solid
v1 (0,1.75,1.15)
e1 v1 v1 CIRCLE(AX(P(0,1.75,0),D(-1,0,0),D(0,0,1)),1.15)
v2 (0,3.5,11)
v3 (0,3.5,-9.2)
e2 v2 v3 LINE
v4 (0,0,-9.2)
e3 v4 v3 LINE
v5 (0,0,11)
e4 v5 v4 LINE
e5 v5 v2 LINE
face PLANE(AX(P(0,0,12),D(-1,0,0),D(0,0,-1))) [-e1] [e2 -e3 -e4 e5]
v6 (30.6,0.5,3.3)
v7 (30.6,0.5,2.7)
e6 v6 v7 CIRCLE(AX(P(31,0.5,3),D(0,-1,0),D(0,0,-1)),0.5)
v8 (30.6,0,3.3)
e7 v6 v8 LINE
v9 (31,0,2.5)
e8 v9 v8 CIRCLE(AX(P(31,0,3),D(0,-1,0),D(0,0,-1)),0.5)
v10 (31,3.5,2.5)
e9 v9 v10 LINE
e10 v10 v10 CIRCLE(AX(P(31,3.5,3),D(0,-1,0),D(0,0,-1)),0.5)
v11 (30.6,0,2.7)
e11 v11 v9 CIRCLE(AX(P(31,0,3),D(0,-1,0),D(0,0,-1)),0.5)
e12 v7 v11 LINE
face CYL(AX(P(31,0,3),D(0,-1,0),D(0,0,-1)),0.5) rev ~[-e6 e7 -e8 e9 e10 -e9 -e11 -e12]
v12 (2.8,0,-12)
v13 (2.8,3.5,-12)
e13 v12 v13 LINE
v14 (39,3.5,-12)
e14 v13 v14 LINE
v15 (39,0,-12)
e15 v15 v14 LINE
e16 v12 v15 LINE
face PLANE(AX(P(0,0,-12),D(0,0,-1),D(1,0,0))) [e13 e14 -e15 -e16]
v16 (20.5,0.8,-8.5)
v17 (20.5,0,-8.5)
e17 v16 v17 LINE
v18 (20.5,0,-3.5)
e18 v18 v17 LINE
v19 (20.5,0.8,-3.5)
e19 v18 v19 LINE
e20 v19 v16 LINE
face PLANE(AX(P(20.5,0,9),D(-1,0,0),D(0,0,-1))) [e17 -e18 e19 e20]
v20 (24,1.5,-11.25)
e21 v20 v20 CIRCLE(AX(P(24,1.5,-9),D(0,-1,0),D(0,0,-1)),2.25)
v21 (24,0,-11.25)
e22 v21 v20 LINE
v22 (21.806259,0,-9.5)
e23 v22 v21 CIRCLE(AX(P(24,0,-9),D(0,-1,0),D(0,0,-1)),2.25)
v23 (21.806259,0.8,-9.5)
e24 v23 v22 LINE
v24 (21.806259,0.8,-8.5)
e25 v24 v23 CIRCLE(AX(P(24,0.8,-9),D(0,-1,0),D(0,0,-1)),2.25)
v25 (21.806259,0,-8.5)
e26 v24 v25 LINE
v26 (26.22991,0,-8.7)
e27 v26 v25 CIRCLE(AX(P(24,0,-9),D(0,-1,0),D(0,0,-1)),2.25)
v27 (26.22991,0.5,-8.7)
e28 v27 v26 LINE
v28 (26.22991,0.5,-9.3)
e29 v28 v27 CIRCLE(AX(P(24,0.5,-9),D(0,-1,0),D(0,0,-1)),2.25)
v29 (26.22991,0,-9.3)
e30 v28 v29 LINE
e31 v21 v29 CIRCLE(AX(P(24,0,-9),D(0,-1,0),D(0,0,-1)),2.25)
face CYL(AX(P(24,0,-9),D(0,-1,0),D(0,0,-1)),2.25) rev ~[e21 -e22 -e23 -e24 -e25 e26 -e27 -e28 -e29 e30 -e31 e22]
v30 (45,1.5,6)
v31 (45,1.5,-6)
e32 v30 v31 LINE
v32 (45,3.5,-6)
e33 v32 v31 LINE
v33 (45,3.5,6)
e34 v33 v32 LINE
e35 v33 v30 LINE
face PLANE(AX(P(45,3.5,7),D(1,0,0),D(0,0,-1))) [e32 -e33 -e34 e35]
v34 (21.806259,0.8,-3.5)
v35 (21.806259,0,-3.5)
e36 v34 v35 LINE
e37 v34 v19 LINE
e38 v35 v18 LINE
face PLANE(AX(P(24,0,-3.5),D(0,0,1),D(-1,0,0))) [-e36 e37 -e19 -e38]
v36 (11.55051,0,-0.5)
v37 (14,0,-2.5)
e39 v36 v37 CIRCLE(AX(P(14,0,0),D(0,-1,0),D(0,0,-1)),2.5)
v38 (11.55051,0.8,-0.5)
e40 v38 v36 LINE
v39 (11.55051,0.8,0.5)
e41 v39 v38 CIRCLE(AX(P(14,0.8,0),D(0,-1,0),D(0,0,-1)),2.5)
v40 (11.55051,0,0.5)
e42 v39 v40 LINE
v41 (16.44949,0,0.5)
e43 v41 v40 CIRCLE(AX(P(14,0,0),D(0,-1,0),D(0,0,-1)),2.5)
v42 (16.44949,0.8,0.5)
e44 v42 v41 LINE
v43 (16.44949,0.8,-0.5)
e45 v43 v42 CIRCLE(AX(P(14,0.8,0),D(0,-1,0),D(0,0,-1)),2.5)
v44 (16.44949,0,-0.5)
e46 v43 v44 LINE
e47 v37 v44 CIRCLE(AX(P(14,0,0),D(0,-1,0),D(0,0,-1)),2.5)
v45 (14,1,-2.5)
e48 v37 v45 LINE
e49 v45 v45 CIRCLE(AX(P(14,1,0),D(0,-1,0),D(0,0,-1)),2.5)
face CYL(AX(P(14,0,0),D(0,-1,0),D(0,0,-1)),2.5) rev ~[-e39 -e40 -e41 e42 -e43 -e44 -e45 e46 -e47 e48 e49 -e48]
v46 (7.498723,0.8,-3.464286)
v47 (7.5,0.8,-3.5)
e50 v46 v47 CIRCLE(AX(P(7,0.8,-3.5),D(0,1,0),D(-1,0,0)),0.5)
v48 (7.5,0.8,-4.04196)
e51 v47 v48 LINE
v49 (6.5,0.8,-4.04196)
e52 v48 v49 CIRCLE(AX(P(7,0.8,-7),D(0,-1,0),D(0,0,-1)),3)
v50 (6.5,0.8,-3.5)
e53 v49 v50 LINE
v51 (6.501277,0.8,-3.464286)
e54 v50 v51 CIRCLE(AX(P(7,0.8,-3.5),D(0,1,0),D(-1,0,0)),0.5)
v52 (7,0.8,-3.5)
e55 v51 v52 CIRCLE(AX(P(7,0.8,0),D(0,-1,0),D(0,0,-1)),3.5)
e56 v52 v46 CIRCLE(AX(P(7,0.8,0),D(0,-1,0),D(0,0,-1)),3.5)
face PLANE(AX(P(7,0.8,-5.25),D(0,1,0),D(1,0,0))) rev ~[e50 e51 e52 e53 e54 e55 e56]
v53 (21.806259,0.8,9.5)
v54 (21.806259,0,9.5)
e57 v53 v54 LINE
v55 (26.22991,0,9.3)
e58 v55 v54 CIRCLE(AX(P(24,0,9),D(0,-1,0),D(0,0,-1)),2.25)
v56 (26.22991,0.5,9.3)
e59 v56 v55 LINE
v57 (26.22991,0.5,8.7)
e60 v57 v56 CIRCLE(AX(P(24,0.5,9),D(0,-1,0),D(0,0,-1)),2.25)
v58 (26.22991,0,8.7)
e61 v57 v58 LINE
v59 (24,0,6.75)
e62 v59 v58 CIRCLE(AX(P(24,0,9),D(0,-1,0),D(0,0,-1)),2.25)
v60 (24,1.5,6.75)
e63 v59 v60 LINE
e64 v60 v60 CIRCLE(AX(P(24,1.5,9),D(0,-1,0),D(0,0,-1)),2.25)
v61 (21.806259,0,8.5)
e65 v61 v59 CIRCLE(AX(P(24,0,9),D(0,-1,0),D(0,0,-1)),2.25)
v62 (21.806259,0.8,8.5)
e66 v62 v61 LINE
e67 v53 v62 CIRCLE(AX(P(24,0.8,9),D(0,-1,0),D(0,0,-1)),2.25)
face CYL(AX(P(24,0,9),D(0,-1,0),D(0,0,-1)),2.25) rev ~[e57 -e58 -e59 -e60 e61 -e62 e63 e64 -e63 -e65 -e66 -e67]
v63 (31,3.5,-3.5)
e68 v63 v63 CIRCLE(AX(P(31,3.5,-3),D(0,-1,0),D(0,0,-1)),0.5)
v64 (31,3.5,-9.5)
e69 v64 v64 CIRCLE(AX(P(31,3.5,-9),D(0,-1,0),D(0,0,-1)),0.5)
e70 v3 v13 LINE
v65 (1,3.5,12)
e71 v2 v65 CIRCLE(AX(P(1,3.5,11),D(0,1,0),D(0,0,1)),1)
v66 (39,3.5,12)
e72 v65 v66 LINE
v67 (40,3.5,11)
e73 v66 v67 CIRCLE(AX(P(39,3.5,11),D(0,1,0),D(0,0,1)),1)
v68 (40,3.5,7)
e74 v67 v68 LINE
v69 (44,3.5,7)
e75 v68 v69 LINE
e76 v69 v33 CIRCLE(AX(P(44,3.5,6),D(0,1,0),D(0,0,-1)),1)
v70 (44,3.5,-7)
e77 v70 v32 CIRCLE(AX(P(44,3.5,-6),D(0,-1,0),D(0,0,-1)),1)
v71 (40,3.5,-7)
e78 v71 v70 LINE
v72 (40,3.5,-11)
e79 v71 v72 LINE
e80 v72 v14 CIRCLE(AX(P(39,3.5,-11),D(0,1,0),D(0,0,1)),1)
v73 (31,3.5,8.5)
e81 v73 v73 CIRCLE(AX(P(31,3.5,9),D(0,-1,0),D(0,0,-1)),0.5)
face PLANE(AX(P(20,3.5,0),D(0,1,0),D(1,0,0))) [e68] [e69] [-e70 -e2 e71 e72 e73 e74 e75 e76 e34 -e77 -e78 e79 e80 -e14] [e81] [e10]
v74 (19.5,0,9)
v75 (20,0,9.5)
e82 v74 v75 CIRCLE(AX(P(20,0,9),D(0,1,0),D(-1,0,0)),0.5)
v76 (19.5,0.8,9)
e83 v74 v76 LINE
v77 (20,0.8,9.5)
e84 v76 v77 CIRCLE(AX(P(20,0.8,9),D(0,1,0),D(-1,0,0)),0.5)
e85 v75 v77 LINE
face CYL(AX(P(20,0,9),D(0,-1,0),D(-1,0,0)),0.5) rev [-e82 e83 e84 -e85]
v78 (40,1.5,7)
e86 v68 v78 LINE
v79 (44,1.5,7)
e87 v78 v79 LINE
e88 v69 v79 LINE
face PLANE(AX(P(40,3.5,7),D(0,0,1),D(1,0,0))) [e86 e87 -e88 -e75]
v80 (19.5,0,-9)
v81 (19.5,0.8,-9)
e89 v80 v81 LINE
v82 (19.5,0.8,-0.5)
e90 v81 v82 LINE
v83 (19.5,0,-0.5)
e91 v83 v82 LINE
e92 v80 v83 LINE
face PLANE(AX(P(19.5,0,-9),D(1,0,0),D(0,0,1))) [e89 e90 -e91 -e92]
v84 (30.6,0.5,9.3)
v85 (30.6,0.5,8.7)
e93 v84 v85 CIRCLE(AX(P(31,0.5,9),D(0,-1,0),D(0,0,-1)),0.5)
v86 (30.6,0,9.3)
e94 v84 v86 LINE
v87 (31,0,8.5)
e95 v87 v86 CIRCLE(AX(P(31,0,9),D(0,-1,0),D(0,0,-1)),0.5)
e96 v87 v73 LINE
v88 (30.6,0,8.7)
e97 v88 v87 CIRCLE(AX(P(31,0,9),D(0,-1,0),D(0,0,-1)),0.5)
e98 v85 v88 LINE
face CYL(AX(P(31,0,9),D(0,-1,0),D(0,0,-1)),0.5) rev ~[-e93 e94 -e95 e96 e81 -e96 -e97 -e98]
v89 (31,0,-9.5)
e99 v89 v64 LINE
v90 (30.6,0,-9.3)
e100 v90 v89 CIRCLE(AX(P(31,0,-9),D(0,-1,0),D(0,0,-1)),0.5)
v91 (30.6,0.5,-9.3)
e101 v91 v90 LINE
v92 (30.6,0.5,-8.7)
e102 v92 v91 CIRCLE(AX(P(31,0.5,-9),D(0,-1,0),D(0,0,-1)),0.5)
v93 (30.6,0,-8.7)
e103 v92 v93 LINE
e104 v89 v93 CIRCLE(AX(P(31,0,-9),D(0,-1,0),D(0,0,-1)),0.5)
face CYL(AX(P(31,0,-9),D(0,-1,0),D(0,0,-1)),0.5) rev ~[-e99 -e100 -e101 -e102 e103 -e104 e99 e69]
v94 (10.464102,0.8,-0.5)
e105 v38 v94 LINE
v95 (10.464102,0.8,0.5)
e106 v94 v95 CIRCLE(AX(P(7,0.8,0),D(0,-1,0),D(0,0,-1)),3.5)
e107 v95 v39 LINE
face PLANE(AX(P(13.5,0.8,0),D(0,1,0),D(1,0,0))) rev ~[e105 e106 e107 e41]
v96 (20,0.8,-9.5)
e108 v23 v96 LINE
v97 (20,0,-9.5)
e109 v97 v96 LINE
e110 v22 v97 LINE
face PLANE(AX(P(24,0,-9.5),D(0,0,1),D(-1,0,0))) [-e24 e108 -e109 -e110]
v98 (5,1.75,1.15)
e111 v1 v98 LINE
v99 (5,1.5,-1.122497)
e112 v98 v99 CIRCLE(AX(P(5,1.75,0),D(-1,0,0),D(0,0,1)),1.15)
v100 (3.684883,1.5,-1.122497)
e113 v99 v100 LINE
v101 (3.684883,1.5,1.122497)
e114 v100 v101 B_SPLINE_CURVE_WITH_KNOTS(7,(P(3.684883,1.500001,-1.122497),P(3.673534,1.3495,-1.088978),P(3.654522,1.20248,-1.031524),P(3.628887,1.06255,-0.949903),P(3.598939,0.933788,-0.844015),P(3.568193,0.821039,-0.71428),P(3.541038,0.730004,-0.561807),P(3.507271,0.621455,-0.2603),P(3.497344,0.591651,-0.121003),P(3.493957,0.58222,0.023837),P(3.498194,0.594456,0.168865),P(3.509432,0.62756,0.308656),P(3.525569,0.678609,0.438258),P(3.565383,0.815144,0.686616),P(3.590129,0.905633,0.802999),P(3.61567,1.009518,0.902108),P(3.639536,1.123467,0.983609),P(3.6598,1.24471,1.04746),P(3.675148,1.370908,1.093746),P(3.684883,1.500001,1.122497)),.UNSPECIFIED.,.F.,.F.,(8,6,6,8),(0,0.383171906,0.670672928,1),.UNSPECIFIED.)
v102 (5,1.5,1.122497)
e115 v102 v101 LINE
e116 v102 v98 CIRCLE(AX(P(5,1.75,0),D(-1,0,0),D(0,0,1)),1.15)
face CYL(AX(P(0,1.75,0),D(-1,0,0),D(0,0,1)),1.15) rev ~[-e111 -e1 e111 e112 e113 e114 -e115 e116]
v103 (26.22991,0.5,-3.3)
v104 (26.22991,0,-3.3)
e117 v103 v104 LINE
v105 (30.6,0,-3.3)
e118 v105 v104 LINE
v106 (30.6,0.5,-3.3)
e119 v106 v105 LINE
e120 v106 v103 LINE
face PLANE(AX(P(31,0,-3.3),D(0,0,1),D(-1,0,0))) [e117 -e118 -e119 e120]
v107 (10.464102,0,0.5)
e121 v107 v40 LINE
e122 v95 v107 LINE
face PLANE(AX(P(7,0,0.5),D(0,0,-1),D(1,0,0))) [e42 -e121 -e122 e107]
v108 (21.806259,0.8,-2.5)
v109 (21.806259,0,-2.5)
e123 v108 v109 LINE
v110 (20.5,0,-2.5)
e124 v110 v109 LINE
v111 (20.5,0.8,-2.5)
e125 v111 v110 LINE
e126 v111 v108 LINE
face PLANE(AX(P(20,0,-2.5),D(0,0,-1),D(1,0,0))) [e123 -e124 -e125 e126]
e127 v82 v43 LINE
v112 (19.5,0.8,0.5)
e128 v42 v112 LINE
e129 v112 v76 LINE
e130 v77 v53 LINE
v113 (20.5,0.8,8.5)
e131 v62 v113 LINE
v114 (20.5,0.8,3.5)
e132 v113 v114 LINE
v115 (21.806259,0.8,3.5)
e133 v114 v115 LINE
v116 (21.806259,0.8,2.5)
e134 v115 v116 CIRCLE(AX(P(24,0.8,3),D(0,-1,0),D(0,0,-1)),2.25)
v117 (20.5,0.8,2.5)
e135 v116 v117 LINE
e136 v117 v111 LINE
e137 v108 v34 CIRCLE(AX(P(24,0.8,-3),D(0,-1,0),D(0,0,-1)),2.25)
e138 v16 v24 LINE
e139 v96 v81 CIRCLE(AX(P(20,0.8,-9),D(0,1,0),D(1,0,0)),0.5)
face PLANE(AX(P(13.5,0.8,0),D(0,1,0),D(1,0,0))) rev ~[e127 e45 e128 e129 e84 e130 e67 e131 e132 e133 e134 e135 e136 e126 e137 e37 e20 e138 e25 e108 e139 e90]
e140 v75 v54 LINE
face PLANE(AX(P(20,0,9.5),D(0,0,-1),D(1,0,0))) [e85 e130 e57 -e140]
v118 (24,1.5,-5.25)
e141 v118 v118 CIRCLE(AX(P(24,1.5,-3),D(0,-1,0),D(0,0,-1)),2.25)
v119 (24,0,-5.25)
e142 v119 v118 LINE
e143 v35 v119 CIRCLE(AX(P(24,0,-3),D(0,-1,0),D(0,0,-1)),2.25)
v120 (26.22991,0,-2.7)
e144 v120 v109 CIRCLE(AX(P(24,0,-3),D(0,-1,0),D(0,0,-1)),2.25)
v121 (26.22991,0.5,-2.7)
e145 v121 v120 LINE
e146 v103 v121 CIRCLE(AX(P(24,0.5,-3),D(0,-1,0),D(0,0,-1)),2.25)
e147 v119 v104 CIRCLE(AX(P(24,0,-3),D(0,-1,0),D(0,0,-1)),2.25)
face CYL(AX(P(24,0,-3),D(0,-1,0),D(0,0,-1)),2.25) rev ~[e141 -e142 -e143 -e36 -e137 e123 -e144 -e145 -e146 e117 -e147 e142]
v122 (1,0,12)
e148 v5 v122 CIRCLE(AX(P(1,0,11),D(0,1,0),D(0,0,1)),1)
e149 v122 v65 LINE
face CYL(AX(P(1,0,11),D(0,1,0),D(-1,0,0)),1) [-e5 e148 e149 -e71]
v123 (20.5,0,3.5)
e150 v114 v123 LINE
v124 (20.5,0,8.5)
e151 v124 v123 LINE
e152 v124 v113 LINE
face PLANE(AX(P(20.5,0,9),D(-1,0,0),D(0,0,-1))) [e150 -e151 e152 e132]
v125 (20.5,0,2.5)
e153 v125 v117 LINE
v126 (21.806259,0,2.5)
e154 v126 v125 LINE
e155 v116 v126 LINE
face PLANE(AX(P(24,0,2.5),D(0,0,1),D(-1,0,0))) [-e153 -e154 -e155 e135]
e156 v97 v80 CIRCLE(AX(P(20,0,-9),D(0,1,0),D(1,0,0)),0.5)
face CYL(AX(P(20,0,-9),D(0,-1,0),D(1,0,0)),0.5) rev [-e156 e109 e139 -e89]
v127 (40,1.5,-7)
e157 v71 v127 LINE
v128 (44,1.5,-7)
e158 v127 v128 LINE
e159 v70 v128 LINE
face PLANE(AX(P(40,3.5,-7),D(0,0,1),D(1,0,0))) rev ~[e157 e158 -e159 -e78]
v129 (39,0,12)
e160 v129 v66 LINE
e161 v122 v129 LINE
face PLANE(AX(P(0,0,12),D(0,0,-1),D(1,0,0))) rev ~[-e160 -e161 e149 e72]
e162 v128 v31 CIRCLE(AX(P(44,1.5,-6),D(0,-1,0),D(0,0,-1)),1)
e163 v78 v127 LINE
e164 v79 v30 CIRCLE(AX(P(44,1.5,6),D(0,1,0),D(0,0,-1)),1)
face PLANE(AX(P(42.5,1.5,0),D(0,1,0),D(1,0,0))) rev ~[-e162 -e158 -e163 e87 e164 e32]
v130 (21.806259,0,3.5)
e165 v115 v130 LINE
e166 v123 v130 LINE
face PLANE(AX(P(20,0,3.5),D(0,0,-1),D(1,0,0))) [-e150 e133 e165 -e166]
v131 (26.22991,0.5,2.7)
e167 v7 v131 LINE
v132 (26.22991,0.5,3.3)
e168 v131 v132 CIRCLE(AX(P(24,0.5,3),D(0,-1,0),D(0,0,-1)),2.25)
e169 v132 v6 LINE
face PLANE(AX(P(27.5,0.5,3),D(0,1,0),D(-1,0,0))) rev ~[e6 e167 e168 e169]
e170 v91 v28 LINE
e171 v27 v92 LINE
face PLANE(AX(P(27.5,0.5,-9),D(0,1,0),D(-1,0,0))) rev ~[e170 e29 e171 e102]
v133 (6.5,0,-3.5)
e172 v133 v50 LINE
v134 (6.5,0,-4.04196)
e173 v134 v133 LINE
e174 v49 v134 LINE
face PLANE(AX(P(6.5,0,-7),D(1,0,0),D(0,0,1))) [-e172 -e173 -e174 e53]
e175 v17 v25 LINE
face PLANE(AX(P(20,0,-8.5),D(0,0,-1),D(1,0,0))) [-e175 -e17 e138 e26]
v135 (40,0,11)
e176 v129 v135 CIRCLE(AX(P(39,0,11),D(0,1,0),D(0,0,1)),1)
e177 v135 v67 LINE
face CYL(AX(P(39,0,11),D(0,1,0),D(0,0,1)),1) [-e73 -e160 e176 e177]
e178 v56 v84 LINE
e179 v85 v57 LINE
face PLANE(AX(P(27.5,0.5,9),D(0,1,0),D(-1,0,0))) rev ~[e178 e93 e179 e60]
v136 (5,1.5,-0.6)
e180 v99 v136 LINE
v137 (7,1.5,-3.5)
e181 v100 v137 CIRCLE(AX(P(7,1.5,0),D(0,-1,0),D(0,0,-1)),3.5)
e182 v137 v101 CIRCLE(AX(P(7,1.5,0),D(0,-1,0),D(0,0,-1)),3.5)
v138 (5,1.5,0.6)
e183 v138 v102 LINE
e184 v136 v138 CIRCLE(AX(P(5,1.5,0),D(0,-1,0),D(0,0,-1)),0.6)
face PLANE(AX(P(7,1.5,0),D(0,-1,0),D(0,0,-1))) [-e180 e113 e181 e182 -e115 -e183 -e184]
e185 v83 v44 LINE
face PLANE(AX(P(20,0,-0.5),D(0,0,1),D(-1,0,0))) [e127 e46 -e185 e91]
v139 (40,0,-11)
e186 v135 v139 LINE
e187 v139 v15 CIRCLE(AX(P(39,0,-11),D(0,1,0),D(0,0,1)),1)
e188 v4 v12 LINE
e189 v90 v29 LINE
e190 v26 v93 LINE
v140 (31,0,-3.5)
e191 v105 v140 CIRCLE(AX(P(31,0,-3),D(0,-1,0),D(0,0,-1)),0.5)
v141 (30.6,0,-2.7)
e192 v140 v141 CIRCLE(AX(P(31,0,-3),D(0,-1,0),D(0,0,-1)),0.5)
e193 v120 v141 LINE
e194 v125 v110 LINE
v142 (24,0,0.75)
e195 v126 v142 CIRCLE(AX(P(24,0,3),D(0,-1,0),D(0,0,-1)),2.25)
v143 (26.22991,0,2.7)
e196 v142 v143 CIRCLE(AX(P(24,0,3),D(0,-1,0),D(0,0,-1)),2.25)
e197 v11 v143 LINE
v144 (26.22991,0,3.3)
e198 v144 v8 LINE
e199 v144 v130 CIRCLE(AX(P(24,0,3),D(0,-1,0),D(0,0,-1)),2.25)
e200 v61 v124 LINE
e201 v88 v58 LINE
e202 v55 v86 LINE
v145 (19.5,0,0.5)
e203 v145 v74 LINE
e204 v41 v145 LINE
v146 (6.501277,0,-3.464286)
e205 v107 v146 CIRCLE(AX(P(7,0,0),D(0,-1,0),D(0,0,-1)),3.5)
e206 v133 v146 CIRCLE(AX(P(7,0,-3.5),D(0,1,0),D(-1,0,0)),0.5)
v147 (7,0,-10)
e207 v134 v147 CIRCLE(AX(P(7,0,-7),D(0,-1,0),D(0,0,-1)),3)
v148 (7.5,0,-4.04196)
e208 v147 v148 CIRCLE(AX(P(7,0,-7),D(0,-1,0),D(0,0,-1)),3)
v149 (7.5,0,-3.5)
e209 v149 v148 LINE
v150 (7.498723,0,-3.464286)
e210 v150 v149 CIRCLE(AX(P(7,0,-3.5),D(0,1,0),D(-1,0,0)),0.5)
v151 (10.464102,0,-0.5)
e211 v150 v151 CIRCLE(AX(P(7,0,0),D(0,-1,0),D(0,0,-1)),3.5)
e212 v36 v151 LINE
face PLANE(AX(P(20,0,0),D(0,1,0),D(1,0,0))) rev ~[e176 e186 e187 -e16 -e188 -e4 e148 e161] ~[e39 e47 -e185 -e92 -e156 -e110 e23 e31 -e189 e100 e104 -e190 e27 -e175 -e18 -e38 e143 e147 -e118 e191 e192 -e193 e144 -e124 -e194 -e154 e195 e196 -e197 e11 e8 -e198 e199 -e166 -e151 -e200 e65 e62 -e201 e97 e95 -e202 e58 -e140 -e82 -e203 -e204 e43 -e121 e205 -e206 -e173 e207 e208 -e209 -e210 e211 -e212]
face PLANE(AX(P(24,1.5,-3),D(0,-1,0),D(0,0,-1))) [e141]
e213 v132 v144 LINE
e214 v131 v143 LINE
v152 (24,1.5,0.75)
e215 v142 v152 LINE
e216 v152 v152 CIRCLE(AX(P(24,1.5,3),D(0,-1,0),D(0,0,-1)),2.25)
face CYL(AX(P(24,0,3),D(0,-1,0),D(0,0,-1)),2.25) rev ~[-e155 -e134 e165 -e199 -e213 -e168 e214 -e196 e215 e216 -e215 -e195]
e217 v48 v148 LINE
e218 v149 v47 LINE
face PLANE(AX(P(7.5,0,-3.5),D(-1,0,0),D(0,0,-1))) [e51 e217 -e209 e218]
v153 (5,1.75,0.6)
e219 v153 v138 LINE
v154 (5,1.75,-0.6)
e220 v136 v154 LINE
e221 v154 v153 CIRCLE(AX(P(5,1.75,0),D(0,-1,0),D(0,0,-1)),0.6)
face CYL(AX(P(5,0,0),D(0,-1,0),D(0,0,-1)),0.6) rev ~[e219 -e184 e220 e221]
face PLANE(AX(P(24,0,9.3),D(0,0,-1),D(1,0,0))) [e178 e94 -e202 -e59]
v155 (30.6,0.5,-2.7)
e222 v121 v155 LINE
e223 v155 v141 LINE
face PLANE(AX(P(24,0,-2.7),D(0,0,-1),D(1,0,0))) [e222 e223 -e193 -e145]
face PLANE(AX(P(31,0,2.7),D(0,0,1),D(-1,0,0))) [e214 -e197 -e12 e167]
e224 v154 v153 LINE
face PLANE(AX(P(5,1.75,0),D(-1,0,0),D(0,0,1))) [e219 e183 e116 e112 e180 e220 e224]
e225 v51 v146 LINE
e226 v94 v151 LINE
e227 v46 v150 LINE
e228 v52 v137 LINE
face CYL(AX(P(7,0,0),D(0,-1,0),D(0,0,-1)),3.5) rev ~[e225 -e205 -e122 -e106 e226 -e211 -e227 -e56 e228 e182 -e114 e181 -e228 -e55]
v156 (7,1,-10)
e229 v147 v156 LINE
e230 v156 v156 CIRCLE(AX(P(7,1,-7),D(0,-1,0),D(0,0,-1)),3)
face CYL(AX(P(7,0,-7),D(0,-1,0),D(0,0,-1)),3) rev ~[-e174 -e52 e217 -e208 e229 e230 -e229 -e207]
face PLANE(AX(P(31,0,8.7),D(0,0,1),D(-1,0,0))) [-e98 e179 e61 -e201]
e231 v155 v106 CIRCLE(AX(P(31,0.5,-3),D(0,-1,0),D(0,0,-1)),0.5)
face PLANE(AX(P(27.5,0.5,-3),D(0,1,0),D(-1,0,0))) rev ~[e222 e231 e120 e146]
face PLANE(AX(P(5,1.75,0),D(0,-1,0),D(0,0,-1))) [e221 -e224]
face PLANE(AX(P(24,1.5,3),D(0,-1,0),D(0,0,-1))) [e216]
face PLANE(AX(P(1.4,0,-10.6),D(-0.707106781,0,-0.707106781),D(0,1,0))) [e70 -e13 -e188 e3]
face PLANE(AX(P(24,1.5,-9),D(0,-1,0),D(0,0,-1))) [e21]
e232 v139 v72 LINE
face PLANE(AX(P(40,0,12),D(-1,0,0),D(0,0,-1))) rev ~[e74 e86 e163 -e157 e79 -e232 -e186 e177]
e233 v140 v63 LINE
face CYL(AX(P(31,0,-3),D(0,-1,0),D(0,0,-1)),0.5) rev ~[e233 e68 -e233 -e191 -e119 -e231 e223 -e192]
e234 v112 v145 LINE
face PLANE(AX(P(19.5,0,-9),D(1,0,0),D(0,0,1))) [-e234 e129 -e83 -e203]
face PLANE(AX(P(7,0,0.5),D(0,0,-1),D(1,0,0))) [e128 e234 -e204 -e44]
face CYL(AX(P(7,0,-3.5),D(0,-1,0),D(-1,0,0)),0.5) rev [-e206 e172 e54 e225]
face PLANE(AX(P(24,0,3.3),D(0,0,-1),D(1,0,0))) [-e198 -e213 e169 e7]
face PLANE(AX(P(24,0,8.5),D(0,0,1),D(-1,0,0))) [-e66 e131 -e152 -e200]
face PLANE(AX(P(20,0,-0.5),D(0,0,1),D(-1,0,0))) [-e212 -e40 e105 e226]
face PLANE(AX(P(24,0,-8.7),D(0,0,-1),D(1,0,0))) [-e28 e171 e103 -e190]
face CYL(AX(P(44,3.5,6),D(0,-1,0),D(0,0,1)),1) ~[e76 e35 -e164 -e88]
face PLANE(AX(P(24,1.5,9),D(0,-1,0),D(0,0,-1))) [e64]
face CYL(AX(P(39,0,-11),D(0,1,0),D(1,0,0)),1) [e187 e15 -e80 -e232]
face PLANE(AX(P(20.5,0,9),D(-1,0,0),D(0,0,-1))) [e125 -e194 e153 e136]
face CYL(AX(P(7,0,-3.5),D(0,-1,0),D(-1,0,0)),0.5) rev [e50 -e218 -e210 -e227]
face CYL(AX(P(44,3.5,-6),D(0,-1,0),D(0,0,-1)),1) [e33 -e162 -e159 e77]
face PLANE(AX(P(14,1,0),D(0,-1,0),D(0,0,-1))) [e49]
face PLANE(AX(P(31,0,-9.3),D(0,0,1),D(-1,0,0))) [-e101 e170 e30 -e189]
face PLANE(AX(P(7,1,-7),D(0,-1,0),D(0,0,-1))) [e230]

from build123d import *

# Parameters (mm, degrees)
SKETCH4_W           = 40
SKETCH4_H           = 24
BOSS_EXTRUDE2_DEPTH = 3.5
FILLET2_R           = 1
SKETCH5_W           = 4.999999906
SKETCH5_H           = 14
BOSS_EXTRUDE3_DEPTH = 2
FILLET3_R           = 1
CHAMFER1_SIZE       = 2.8
SKETCH6_R           = 1.15
CUT_EXTRUDE1_DEPTH  = 5
SKETCH8_R           = 0.6
CUT_EXTRUDE2_DEPTH  = 1.75
SKETCH9_R           = 3.5
CUT_EXTRUDE3_DEPTH  = 1.5
SKETCH10_R          = 3
CUT_EXTRUDE4_DEPTH  = 1
CUT_EXTRUDE5_DEPTH  = 0.8
SKETCH12_R          = 2.5
CUT_EXTRUDE6_DEPTH  = 1
CUT_EXTRUDE7_DEPTH  = 0.8
CUT_EXTRUDE8_DEPTH  = 0.8
SKETCH16_R          = 2.25
CUT_EXTRUDE9_DEPTH  = 1.5
CUT_EXTRUDE10_DEPTH = 0.5
SKETCH18_R          = 0.5
CUT_EXTRUDE11_DEPTH = 47.70385414
LPATTERN3_COUNT     = 4
LPATTERN3_PITCH     = 6


with BuildPart() as part:
    # Sketch4 → Boss-Extrude2 (new body)
    with BuildSketch(Plane(origin=(0, 0, 0), x_dir=(1, 0, 0), z_dir=(0, 1, 0))):
        with Locations((20, 0)):
            Rectangle(SKETCH4_W, SKETCH4_H)
    extrude(amount=BOSS_EXTRUDE2_DEPTH)

    # Fillet2
    fillet2_edges = [part.edges().sort_by_distance(p)[0] for p in [
        (40, 1.75, -12),
        (40, 1.75, 12),
        (0, 1.75, 12),
    ]]
    fillet(fillet2_edges, radius=FILLET2_R)

    # Sketch5 → Boss-Extrude3 (add)
    with BuildSketch(Plane(origin=(0, 3.5, 0), x_dir=(1, 0, 0), z_dir=(0, 1, 0))):
        with Locations((42.499999953, 0)):
            Rectangle(SKETCH5_W, SKETCH5_H)
    extrude(amount=-BOSS_EXTRUDE3_DEPTH)

    # Fillet3
    fillet3_edges = [part.edges().sort_by_distance(p)[0] for p in [
        (44.999999906, 2.5, -7),
        (44.999999906, 2.5, 7),
    ]]
    fillet(fillet3_edges, radius=FILLET3_R)

    # Chamfer1
    chamfer1_edges = [part.edges().sort_by_distance(p)[0] for p in [
        (0, 1.75, -12),
    ]]
    chamfer(chamfer1_edges, length=CHAMFER1_SIZE)

    # Sketch6 → Cut-Extrude1 (cut)
    with BuildSketch(Plane.ZY):
        with Locations((0, 1.75)):
            Circle(SKETCH6_R)
    extrude(amount=-CUT_EXTRUDE1_DEPTH, mode=Mode.SUBTRACT)

    # Sketch8 → Cut-Extrude2 (cut)
    with BuildSketch(Plane.XZ):
        with Locations(Location((5, 0, 0), (0, 0, 270))):
            Circle(SKETCH8_R)
    extrude(amount=-CUT_EXTRUDE2_DEPTH, mode=Mode.SUBTRACT)

    # Sketch9 → Cut-Extrude3 (cut)
    with BuildSketch(Plane.XZ):
        with Locations(Location((7, 0, 0), (0, 0, 270))):
            Circle(SKETCH9_R)
    extrude(amount=-CUT_EXTRUDE3_DEPTH, mode=Mode.SUBTRACT)

    # Sketch10 → Cut-Extrude4 (cut)
    with BuildSketch(Plane.XZ):
        with Locations(Location((7, -7, 0), (0, 0, 270))):
            Circle(SKETCH10_R)
    extrude(amount=-CUT_EXTRUDE4_DEPTH, mode=Mode.SUBTRACT)

    # Sketch11 → Cut-Extrude5 (cut)
    with BuildSketch(Plane(origin=(0, 0, 0), x_dir=(-1, 0, 0), z_dir=(0, -1, 0))):
        with BuildLine():
            Line((-6.5, 7), (-6.5, 3.5))
            ThreePointArc((-6.5, 3.5), (-7, 3), (-7.5, 3.5))
            Line((-7.5, 3.5), (-7.5, 7))
            ThreePointArc((-7.5, 7), (-7, 7.5), (-6.5, 7))
        make_face()
        with BuildLine():
            Line((-20, 0.5), (-7, 0.5))
            ThreePointArc((-7, 0.5), (-6.5, 0), (-7, -0.5))
            Line((-7, -0.5), (-20, -0.5))
            ThreePointArc((-20, -0.5), (-20.5, 0), (-20, 0.5))
        make_face()
    extrude(amount=-CUT_EXTRUDE5_DEPTH, mode=Mode.SUBTRACT)

    # Sketch12 → Cut-Extrude6 (cut)
    with BuildSketch(Plane.XZ):
        with Locations(Location((14, 0, 0), (0, 0, 270))):
            Circle(SKETCH12_R)
    extrude(amount=-CUT_EXTRUDE6_DEPTH, mode=Mode.SUBTRACT)

    # Sketch14 → Cut-Extrude7 (cut)
    with BuildSketch(Plane.XZ):
        with BuildLine():
            Line((19.5, -9), (19.5, 9))
            ThreePointArc((19.5, 9), (20, 9.5), (20.5, 9))
            Line((20.5, 9), (20.5, -9))
            ThreePointArc((20.5, -9), (20, -9.5), (19.5, -9))
        make_face()
    extrude(amount=-CUT_EXTRUDE7_DEPTH, mode=Mode.SUBTRACT)

    # Sketch15 → Cut-Extrude8 (cut)
    with BuildSketch(Plane.XZ):
        with BuildLine():
            Line((20, -8.5), (24, -8.5))
            ThreePointArc((24, -8.5), (24.5, -9), (24, -9.5))
            Line((24, -9.5), (20, -9.5))
            ThreePointArc((20, -9.5), (19.5, -9), (20, -8.5))
        make_face()
    cut_extrude8 = extrude(amount=-CUT_EXTRUDE8_DEPTH, mode=Mode.SUBTRACT)

    # Sketch16 → Cut-Extrude9 (cut)
    with BuildSketch(Plane.XZ):
        with Locations(Location((24, -9, 0), (0, 0, 270))):
            Circle(SKETCH16_R)
    cut_extrude9 = extrude(amount=-CUT_EXTRUDE9_DEPTH, mode=Mode.SUBTRACT)

    # Sketch17 → Cut-Extrude10 (cut)
    with BuildSketch(Plane.XZ):
        with BuildLine():
            Line((31, -9.3), (24, -9.3))
            ThreePointArc((24, -9.3), (23.7, -9), (24, -8.7))
            Line((24, -8.7), (31, -8.7))
            ThreePointArc((31, -8.7), (31.3, -9), (31, -9.3))
        make_face()
    cut_extrude10 = extrude(amount=-CUT_EXTRUDE10_DEPTH, mode=Mode.SUBTRACT)

    # Sketch18 → Cut-Extrude11 (cut, through all)
    with BuildSketch(Plane(origin=(0, 0, 0), x_dir=(-1, 0, 0), z_dir=(0, -1, 0))):
        with Locations(Location((-31, 9, 0), (0, 0, 90))):
            Circle(SKETCH18_R)
    cut_extrude11 = extrude(amount=-CUT_EXTRUDE11_DEPTH, mode=Mode.SUBTRACT)

    # LPattern3: Cut-Extrude8, Cut-Extrude9, Cut-Extrude10, Cut-Extrude11 ×4
    with Locations(*[(0, 0, i * LPATTERN3_PITCH) for i in range(1, LPATTERN3_COUNT)]):
        add(cut_extrude8, mode=Mode.SUBTRACT)
        add(cut_extrude9, mode=Mode.SUBTRACT)
        add(cut_extrude10, mode=Mode.SUBTRACT)
        add(cut_extrude11, mode=Mode.SUBTRACT)


solid = part.part
